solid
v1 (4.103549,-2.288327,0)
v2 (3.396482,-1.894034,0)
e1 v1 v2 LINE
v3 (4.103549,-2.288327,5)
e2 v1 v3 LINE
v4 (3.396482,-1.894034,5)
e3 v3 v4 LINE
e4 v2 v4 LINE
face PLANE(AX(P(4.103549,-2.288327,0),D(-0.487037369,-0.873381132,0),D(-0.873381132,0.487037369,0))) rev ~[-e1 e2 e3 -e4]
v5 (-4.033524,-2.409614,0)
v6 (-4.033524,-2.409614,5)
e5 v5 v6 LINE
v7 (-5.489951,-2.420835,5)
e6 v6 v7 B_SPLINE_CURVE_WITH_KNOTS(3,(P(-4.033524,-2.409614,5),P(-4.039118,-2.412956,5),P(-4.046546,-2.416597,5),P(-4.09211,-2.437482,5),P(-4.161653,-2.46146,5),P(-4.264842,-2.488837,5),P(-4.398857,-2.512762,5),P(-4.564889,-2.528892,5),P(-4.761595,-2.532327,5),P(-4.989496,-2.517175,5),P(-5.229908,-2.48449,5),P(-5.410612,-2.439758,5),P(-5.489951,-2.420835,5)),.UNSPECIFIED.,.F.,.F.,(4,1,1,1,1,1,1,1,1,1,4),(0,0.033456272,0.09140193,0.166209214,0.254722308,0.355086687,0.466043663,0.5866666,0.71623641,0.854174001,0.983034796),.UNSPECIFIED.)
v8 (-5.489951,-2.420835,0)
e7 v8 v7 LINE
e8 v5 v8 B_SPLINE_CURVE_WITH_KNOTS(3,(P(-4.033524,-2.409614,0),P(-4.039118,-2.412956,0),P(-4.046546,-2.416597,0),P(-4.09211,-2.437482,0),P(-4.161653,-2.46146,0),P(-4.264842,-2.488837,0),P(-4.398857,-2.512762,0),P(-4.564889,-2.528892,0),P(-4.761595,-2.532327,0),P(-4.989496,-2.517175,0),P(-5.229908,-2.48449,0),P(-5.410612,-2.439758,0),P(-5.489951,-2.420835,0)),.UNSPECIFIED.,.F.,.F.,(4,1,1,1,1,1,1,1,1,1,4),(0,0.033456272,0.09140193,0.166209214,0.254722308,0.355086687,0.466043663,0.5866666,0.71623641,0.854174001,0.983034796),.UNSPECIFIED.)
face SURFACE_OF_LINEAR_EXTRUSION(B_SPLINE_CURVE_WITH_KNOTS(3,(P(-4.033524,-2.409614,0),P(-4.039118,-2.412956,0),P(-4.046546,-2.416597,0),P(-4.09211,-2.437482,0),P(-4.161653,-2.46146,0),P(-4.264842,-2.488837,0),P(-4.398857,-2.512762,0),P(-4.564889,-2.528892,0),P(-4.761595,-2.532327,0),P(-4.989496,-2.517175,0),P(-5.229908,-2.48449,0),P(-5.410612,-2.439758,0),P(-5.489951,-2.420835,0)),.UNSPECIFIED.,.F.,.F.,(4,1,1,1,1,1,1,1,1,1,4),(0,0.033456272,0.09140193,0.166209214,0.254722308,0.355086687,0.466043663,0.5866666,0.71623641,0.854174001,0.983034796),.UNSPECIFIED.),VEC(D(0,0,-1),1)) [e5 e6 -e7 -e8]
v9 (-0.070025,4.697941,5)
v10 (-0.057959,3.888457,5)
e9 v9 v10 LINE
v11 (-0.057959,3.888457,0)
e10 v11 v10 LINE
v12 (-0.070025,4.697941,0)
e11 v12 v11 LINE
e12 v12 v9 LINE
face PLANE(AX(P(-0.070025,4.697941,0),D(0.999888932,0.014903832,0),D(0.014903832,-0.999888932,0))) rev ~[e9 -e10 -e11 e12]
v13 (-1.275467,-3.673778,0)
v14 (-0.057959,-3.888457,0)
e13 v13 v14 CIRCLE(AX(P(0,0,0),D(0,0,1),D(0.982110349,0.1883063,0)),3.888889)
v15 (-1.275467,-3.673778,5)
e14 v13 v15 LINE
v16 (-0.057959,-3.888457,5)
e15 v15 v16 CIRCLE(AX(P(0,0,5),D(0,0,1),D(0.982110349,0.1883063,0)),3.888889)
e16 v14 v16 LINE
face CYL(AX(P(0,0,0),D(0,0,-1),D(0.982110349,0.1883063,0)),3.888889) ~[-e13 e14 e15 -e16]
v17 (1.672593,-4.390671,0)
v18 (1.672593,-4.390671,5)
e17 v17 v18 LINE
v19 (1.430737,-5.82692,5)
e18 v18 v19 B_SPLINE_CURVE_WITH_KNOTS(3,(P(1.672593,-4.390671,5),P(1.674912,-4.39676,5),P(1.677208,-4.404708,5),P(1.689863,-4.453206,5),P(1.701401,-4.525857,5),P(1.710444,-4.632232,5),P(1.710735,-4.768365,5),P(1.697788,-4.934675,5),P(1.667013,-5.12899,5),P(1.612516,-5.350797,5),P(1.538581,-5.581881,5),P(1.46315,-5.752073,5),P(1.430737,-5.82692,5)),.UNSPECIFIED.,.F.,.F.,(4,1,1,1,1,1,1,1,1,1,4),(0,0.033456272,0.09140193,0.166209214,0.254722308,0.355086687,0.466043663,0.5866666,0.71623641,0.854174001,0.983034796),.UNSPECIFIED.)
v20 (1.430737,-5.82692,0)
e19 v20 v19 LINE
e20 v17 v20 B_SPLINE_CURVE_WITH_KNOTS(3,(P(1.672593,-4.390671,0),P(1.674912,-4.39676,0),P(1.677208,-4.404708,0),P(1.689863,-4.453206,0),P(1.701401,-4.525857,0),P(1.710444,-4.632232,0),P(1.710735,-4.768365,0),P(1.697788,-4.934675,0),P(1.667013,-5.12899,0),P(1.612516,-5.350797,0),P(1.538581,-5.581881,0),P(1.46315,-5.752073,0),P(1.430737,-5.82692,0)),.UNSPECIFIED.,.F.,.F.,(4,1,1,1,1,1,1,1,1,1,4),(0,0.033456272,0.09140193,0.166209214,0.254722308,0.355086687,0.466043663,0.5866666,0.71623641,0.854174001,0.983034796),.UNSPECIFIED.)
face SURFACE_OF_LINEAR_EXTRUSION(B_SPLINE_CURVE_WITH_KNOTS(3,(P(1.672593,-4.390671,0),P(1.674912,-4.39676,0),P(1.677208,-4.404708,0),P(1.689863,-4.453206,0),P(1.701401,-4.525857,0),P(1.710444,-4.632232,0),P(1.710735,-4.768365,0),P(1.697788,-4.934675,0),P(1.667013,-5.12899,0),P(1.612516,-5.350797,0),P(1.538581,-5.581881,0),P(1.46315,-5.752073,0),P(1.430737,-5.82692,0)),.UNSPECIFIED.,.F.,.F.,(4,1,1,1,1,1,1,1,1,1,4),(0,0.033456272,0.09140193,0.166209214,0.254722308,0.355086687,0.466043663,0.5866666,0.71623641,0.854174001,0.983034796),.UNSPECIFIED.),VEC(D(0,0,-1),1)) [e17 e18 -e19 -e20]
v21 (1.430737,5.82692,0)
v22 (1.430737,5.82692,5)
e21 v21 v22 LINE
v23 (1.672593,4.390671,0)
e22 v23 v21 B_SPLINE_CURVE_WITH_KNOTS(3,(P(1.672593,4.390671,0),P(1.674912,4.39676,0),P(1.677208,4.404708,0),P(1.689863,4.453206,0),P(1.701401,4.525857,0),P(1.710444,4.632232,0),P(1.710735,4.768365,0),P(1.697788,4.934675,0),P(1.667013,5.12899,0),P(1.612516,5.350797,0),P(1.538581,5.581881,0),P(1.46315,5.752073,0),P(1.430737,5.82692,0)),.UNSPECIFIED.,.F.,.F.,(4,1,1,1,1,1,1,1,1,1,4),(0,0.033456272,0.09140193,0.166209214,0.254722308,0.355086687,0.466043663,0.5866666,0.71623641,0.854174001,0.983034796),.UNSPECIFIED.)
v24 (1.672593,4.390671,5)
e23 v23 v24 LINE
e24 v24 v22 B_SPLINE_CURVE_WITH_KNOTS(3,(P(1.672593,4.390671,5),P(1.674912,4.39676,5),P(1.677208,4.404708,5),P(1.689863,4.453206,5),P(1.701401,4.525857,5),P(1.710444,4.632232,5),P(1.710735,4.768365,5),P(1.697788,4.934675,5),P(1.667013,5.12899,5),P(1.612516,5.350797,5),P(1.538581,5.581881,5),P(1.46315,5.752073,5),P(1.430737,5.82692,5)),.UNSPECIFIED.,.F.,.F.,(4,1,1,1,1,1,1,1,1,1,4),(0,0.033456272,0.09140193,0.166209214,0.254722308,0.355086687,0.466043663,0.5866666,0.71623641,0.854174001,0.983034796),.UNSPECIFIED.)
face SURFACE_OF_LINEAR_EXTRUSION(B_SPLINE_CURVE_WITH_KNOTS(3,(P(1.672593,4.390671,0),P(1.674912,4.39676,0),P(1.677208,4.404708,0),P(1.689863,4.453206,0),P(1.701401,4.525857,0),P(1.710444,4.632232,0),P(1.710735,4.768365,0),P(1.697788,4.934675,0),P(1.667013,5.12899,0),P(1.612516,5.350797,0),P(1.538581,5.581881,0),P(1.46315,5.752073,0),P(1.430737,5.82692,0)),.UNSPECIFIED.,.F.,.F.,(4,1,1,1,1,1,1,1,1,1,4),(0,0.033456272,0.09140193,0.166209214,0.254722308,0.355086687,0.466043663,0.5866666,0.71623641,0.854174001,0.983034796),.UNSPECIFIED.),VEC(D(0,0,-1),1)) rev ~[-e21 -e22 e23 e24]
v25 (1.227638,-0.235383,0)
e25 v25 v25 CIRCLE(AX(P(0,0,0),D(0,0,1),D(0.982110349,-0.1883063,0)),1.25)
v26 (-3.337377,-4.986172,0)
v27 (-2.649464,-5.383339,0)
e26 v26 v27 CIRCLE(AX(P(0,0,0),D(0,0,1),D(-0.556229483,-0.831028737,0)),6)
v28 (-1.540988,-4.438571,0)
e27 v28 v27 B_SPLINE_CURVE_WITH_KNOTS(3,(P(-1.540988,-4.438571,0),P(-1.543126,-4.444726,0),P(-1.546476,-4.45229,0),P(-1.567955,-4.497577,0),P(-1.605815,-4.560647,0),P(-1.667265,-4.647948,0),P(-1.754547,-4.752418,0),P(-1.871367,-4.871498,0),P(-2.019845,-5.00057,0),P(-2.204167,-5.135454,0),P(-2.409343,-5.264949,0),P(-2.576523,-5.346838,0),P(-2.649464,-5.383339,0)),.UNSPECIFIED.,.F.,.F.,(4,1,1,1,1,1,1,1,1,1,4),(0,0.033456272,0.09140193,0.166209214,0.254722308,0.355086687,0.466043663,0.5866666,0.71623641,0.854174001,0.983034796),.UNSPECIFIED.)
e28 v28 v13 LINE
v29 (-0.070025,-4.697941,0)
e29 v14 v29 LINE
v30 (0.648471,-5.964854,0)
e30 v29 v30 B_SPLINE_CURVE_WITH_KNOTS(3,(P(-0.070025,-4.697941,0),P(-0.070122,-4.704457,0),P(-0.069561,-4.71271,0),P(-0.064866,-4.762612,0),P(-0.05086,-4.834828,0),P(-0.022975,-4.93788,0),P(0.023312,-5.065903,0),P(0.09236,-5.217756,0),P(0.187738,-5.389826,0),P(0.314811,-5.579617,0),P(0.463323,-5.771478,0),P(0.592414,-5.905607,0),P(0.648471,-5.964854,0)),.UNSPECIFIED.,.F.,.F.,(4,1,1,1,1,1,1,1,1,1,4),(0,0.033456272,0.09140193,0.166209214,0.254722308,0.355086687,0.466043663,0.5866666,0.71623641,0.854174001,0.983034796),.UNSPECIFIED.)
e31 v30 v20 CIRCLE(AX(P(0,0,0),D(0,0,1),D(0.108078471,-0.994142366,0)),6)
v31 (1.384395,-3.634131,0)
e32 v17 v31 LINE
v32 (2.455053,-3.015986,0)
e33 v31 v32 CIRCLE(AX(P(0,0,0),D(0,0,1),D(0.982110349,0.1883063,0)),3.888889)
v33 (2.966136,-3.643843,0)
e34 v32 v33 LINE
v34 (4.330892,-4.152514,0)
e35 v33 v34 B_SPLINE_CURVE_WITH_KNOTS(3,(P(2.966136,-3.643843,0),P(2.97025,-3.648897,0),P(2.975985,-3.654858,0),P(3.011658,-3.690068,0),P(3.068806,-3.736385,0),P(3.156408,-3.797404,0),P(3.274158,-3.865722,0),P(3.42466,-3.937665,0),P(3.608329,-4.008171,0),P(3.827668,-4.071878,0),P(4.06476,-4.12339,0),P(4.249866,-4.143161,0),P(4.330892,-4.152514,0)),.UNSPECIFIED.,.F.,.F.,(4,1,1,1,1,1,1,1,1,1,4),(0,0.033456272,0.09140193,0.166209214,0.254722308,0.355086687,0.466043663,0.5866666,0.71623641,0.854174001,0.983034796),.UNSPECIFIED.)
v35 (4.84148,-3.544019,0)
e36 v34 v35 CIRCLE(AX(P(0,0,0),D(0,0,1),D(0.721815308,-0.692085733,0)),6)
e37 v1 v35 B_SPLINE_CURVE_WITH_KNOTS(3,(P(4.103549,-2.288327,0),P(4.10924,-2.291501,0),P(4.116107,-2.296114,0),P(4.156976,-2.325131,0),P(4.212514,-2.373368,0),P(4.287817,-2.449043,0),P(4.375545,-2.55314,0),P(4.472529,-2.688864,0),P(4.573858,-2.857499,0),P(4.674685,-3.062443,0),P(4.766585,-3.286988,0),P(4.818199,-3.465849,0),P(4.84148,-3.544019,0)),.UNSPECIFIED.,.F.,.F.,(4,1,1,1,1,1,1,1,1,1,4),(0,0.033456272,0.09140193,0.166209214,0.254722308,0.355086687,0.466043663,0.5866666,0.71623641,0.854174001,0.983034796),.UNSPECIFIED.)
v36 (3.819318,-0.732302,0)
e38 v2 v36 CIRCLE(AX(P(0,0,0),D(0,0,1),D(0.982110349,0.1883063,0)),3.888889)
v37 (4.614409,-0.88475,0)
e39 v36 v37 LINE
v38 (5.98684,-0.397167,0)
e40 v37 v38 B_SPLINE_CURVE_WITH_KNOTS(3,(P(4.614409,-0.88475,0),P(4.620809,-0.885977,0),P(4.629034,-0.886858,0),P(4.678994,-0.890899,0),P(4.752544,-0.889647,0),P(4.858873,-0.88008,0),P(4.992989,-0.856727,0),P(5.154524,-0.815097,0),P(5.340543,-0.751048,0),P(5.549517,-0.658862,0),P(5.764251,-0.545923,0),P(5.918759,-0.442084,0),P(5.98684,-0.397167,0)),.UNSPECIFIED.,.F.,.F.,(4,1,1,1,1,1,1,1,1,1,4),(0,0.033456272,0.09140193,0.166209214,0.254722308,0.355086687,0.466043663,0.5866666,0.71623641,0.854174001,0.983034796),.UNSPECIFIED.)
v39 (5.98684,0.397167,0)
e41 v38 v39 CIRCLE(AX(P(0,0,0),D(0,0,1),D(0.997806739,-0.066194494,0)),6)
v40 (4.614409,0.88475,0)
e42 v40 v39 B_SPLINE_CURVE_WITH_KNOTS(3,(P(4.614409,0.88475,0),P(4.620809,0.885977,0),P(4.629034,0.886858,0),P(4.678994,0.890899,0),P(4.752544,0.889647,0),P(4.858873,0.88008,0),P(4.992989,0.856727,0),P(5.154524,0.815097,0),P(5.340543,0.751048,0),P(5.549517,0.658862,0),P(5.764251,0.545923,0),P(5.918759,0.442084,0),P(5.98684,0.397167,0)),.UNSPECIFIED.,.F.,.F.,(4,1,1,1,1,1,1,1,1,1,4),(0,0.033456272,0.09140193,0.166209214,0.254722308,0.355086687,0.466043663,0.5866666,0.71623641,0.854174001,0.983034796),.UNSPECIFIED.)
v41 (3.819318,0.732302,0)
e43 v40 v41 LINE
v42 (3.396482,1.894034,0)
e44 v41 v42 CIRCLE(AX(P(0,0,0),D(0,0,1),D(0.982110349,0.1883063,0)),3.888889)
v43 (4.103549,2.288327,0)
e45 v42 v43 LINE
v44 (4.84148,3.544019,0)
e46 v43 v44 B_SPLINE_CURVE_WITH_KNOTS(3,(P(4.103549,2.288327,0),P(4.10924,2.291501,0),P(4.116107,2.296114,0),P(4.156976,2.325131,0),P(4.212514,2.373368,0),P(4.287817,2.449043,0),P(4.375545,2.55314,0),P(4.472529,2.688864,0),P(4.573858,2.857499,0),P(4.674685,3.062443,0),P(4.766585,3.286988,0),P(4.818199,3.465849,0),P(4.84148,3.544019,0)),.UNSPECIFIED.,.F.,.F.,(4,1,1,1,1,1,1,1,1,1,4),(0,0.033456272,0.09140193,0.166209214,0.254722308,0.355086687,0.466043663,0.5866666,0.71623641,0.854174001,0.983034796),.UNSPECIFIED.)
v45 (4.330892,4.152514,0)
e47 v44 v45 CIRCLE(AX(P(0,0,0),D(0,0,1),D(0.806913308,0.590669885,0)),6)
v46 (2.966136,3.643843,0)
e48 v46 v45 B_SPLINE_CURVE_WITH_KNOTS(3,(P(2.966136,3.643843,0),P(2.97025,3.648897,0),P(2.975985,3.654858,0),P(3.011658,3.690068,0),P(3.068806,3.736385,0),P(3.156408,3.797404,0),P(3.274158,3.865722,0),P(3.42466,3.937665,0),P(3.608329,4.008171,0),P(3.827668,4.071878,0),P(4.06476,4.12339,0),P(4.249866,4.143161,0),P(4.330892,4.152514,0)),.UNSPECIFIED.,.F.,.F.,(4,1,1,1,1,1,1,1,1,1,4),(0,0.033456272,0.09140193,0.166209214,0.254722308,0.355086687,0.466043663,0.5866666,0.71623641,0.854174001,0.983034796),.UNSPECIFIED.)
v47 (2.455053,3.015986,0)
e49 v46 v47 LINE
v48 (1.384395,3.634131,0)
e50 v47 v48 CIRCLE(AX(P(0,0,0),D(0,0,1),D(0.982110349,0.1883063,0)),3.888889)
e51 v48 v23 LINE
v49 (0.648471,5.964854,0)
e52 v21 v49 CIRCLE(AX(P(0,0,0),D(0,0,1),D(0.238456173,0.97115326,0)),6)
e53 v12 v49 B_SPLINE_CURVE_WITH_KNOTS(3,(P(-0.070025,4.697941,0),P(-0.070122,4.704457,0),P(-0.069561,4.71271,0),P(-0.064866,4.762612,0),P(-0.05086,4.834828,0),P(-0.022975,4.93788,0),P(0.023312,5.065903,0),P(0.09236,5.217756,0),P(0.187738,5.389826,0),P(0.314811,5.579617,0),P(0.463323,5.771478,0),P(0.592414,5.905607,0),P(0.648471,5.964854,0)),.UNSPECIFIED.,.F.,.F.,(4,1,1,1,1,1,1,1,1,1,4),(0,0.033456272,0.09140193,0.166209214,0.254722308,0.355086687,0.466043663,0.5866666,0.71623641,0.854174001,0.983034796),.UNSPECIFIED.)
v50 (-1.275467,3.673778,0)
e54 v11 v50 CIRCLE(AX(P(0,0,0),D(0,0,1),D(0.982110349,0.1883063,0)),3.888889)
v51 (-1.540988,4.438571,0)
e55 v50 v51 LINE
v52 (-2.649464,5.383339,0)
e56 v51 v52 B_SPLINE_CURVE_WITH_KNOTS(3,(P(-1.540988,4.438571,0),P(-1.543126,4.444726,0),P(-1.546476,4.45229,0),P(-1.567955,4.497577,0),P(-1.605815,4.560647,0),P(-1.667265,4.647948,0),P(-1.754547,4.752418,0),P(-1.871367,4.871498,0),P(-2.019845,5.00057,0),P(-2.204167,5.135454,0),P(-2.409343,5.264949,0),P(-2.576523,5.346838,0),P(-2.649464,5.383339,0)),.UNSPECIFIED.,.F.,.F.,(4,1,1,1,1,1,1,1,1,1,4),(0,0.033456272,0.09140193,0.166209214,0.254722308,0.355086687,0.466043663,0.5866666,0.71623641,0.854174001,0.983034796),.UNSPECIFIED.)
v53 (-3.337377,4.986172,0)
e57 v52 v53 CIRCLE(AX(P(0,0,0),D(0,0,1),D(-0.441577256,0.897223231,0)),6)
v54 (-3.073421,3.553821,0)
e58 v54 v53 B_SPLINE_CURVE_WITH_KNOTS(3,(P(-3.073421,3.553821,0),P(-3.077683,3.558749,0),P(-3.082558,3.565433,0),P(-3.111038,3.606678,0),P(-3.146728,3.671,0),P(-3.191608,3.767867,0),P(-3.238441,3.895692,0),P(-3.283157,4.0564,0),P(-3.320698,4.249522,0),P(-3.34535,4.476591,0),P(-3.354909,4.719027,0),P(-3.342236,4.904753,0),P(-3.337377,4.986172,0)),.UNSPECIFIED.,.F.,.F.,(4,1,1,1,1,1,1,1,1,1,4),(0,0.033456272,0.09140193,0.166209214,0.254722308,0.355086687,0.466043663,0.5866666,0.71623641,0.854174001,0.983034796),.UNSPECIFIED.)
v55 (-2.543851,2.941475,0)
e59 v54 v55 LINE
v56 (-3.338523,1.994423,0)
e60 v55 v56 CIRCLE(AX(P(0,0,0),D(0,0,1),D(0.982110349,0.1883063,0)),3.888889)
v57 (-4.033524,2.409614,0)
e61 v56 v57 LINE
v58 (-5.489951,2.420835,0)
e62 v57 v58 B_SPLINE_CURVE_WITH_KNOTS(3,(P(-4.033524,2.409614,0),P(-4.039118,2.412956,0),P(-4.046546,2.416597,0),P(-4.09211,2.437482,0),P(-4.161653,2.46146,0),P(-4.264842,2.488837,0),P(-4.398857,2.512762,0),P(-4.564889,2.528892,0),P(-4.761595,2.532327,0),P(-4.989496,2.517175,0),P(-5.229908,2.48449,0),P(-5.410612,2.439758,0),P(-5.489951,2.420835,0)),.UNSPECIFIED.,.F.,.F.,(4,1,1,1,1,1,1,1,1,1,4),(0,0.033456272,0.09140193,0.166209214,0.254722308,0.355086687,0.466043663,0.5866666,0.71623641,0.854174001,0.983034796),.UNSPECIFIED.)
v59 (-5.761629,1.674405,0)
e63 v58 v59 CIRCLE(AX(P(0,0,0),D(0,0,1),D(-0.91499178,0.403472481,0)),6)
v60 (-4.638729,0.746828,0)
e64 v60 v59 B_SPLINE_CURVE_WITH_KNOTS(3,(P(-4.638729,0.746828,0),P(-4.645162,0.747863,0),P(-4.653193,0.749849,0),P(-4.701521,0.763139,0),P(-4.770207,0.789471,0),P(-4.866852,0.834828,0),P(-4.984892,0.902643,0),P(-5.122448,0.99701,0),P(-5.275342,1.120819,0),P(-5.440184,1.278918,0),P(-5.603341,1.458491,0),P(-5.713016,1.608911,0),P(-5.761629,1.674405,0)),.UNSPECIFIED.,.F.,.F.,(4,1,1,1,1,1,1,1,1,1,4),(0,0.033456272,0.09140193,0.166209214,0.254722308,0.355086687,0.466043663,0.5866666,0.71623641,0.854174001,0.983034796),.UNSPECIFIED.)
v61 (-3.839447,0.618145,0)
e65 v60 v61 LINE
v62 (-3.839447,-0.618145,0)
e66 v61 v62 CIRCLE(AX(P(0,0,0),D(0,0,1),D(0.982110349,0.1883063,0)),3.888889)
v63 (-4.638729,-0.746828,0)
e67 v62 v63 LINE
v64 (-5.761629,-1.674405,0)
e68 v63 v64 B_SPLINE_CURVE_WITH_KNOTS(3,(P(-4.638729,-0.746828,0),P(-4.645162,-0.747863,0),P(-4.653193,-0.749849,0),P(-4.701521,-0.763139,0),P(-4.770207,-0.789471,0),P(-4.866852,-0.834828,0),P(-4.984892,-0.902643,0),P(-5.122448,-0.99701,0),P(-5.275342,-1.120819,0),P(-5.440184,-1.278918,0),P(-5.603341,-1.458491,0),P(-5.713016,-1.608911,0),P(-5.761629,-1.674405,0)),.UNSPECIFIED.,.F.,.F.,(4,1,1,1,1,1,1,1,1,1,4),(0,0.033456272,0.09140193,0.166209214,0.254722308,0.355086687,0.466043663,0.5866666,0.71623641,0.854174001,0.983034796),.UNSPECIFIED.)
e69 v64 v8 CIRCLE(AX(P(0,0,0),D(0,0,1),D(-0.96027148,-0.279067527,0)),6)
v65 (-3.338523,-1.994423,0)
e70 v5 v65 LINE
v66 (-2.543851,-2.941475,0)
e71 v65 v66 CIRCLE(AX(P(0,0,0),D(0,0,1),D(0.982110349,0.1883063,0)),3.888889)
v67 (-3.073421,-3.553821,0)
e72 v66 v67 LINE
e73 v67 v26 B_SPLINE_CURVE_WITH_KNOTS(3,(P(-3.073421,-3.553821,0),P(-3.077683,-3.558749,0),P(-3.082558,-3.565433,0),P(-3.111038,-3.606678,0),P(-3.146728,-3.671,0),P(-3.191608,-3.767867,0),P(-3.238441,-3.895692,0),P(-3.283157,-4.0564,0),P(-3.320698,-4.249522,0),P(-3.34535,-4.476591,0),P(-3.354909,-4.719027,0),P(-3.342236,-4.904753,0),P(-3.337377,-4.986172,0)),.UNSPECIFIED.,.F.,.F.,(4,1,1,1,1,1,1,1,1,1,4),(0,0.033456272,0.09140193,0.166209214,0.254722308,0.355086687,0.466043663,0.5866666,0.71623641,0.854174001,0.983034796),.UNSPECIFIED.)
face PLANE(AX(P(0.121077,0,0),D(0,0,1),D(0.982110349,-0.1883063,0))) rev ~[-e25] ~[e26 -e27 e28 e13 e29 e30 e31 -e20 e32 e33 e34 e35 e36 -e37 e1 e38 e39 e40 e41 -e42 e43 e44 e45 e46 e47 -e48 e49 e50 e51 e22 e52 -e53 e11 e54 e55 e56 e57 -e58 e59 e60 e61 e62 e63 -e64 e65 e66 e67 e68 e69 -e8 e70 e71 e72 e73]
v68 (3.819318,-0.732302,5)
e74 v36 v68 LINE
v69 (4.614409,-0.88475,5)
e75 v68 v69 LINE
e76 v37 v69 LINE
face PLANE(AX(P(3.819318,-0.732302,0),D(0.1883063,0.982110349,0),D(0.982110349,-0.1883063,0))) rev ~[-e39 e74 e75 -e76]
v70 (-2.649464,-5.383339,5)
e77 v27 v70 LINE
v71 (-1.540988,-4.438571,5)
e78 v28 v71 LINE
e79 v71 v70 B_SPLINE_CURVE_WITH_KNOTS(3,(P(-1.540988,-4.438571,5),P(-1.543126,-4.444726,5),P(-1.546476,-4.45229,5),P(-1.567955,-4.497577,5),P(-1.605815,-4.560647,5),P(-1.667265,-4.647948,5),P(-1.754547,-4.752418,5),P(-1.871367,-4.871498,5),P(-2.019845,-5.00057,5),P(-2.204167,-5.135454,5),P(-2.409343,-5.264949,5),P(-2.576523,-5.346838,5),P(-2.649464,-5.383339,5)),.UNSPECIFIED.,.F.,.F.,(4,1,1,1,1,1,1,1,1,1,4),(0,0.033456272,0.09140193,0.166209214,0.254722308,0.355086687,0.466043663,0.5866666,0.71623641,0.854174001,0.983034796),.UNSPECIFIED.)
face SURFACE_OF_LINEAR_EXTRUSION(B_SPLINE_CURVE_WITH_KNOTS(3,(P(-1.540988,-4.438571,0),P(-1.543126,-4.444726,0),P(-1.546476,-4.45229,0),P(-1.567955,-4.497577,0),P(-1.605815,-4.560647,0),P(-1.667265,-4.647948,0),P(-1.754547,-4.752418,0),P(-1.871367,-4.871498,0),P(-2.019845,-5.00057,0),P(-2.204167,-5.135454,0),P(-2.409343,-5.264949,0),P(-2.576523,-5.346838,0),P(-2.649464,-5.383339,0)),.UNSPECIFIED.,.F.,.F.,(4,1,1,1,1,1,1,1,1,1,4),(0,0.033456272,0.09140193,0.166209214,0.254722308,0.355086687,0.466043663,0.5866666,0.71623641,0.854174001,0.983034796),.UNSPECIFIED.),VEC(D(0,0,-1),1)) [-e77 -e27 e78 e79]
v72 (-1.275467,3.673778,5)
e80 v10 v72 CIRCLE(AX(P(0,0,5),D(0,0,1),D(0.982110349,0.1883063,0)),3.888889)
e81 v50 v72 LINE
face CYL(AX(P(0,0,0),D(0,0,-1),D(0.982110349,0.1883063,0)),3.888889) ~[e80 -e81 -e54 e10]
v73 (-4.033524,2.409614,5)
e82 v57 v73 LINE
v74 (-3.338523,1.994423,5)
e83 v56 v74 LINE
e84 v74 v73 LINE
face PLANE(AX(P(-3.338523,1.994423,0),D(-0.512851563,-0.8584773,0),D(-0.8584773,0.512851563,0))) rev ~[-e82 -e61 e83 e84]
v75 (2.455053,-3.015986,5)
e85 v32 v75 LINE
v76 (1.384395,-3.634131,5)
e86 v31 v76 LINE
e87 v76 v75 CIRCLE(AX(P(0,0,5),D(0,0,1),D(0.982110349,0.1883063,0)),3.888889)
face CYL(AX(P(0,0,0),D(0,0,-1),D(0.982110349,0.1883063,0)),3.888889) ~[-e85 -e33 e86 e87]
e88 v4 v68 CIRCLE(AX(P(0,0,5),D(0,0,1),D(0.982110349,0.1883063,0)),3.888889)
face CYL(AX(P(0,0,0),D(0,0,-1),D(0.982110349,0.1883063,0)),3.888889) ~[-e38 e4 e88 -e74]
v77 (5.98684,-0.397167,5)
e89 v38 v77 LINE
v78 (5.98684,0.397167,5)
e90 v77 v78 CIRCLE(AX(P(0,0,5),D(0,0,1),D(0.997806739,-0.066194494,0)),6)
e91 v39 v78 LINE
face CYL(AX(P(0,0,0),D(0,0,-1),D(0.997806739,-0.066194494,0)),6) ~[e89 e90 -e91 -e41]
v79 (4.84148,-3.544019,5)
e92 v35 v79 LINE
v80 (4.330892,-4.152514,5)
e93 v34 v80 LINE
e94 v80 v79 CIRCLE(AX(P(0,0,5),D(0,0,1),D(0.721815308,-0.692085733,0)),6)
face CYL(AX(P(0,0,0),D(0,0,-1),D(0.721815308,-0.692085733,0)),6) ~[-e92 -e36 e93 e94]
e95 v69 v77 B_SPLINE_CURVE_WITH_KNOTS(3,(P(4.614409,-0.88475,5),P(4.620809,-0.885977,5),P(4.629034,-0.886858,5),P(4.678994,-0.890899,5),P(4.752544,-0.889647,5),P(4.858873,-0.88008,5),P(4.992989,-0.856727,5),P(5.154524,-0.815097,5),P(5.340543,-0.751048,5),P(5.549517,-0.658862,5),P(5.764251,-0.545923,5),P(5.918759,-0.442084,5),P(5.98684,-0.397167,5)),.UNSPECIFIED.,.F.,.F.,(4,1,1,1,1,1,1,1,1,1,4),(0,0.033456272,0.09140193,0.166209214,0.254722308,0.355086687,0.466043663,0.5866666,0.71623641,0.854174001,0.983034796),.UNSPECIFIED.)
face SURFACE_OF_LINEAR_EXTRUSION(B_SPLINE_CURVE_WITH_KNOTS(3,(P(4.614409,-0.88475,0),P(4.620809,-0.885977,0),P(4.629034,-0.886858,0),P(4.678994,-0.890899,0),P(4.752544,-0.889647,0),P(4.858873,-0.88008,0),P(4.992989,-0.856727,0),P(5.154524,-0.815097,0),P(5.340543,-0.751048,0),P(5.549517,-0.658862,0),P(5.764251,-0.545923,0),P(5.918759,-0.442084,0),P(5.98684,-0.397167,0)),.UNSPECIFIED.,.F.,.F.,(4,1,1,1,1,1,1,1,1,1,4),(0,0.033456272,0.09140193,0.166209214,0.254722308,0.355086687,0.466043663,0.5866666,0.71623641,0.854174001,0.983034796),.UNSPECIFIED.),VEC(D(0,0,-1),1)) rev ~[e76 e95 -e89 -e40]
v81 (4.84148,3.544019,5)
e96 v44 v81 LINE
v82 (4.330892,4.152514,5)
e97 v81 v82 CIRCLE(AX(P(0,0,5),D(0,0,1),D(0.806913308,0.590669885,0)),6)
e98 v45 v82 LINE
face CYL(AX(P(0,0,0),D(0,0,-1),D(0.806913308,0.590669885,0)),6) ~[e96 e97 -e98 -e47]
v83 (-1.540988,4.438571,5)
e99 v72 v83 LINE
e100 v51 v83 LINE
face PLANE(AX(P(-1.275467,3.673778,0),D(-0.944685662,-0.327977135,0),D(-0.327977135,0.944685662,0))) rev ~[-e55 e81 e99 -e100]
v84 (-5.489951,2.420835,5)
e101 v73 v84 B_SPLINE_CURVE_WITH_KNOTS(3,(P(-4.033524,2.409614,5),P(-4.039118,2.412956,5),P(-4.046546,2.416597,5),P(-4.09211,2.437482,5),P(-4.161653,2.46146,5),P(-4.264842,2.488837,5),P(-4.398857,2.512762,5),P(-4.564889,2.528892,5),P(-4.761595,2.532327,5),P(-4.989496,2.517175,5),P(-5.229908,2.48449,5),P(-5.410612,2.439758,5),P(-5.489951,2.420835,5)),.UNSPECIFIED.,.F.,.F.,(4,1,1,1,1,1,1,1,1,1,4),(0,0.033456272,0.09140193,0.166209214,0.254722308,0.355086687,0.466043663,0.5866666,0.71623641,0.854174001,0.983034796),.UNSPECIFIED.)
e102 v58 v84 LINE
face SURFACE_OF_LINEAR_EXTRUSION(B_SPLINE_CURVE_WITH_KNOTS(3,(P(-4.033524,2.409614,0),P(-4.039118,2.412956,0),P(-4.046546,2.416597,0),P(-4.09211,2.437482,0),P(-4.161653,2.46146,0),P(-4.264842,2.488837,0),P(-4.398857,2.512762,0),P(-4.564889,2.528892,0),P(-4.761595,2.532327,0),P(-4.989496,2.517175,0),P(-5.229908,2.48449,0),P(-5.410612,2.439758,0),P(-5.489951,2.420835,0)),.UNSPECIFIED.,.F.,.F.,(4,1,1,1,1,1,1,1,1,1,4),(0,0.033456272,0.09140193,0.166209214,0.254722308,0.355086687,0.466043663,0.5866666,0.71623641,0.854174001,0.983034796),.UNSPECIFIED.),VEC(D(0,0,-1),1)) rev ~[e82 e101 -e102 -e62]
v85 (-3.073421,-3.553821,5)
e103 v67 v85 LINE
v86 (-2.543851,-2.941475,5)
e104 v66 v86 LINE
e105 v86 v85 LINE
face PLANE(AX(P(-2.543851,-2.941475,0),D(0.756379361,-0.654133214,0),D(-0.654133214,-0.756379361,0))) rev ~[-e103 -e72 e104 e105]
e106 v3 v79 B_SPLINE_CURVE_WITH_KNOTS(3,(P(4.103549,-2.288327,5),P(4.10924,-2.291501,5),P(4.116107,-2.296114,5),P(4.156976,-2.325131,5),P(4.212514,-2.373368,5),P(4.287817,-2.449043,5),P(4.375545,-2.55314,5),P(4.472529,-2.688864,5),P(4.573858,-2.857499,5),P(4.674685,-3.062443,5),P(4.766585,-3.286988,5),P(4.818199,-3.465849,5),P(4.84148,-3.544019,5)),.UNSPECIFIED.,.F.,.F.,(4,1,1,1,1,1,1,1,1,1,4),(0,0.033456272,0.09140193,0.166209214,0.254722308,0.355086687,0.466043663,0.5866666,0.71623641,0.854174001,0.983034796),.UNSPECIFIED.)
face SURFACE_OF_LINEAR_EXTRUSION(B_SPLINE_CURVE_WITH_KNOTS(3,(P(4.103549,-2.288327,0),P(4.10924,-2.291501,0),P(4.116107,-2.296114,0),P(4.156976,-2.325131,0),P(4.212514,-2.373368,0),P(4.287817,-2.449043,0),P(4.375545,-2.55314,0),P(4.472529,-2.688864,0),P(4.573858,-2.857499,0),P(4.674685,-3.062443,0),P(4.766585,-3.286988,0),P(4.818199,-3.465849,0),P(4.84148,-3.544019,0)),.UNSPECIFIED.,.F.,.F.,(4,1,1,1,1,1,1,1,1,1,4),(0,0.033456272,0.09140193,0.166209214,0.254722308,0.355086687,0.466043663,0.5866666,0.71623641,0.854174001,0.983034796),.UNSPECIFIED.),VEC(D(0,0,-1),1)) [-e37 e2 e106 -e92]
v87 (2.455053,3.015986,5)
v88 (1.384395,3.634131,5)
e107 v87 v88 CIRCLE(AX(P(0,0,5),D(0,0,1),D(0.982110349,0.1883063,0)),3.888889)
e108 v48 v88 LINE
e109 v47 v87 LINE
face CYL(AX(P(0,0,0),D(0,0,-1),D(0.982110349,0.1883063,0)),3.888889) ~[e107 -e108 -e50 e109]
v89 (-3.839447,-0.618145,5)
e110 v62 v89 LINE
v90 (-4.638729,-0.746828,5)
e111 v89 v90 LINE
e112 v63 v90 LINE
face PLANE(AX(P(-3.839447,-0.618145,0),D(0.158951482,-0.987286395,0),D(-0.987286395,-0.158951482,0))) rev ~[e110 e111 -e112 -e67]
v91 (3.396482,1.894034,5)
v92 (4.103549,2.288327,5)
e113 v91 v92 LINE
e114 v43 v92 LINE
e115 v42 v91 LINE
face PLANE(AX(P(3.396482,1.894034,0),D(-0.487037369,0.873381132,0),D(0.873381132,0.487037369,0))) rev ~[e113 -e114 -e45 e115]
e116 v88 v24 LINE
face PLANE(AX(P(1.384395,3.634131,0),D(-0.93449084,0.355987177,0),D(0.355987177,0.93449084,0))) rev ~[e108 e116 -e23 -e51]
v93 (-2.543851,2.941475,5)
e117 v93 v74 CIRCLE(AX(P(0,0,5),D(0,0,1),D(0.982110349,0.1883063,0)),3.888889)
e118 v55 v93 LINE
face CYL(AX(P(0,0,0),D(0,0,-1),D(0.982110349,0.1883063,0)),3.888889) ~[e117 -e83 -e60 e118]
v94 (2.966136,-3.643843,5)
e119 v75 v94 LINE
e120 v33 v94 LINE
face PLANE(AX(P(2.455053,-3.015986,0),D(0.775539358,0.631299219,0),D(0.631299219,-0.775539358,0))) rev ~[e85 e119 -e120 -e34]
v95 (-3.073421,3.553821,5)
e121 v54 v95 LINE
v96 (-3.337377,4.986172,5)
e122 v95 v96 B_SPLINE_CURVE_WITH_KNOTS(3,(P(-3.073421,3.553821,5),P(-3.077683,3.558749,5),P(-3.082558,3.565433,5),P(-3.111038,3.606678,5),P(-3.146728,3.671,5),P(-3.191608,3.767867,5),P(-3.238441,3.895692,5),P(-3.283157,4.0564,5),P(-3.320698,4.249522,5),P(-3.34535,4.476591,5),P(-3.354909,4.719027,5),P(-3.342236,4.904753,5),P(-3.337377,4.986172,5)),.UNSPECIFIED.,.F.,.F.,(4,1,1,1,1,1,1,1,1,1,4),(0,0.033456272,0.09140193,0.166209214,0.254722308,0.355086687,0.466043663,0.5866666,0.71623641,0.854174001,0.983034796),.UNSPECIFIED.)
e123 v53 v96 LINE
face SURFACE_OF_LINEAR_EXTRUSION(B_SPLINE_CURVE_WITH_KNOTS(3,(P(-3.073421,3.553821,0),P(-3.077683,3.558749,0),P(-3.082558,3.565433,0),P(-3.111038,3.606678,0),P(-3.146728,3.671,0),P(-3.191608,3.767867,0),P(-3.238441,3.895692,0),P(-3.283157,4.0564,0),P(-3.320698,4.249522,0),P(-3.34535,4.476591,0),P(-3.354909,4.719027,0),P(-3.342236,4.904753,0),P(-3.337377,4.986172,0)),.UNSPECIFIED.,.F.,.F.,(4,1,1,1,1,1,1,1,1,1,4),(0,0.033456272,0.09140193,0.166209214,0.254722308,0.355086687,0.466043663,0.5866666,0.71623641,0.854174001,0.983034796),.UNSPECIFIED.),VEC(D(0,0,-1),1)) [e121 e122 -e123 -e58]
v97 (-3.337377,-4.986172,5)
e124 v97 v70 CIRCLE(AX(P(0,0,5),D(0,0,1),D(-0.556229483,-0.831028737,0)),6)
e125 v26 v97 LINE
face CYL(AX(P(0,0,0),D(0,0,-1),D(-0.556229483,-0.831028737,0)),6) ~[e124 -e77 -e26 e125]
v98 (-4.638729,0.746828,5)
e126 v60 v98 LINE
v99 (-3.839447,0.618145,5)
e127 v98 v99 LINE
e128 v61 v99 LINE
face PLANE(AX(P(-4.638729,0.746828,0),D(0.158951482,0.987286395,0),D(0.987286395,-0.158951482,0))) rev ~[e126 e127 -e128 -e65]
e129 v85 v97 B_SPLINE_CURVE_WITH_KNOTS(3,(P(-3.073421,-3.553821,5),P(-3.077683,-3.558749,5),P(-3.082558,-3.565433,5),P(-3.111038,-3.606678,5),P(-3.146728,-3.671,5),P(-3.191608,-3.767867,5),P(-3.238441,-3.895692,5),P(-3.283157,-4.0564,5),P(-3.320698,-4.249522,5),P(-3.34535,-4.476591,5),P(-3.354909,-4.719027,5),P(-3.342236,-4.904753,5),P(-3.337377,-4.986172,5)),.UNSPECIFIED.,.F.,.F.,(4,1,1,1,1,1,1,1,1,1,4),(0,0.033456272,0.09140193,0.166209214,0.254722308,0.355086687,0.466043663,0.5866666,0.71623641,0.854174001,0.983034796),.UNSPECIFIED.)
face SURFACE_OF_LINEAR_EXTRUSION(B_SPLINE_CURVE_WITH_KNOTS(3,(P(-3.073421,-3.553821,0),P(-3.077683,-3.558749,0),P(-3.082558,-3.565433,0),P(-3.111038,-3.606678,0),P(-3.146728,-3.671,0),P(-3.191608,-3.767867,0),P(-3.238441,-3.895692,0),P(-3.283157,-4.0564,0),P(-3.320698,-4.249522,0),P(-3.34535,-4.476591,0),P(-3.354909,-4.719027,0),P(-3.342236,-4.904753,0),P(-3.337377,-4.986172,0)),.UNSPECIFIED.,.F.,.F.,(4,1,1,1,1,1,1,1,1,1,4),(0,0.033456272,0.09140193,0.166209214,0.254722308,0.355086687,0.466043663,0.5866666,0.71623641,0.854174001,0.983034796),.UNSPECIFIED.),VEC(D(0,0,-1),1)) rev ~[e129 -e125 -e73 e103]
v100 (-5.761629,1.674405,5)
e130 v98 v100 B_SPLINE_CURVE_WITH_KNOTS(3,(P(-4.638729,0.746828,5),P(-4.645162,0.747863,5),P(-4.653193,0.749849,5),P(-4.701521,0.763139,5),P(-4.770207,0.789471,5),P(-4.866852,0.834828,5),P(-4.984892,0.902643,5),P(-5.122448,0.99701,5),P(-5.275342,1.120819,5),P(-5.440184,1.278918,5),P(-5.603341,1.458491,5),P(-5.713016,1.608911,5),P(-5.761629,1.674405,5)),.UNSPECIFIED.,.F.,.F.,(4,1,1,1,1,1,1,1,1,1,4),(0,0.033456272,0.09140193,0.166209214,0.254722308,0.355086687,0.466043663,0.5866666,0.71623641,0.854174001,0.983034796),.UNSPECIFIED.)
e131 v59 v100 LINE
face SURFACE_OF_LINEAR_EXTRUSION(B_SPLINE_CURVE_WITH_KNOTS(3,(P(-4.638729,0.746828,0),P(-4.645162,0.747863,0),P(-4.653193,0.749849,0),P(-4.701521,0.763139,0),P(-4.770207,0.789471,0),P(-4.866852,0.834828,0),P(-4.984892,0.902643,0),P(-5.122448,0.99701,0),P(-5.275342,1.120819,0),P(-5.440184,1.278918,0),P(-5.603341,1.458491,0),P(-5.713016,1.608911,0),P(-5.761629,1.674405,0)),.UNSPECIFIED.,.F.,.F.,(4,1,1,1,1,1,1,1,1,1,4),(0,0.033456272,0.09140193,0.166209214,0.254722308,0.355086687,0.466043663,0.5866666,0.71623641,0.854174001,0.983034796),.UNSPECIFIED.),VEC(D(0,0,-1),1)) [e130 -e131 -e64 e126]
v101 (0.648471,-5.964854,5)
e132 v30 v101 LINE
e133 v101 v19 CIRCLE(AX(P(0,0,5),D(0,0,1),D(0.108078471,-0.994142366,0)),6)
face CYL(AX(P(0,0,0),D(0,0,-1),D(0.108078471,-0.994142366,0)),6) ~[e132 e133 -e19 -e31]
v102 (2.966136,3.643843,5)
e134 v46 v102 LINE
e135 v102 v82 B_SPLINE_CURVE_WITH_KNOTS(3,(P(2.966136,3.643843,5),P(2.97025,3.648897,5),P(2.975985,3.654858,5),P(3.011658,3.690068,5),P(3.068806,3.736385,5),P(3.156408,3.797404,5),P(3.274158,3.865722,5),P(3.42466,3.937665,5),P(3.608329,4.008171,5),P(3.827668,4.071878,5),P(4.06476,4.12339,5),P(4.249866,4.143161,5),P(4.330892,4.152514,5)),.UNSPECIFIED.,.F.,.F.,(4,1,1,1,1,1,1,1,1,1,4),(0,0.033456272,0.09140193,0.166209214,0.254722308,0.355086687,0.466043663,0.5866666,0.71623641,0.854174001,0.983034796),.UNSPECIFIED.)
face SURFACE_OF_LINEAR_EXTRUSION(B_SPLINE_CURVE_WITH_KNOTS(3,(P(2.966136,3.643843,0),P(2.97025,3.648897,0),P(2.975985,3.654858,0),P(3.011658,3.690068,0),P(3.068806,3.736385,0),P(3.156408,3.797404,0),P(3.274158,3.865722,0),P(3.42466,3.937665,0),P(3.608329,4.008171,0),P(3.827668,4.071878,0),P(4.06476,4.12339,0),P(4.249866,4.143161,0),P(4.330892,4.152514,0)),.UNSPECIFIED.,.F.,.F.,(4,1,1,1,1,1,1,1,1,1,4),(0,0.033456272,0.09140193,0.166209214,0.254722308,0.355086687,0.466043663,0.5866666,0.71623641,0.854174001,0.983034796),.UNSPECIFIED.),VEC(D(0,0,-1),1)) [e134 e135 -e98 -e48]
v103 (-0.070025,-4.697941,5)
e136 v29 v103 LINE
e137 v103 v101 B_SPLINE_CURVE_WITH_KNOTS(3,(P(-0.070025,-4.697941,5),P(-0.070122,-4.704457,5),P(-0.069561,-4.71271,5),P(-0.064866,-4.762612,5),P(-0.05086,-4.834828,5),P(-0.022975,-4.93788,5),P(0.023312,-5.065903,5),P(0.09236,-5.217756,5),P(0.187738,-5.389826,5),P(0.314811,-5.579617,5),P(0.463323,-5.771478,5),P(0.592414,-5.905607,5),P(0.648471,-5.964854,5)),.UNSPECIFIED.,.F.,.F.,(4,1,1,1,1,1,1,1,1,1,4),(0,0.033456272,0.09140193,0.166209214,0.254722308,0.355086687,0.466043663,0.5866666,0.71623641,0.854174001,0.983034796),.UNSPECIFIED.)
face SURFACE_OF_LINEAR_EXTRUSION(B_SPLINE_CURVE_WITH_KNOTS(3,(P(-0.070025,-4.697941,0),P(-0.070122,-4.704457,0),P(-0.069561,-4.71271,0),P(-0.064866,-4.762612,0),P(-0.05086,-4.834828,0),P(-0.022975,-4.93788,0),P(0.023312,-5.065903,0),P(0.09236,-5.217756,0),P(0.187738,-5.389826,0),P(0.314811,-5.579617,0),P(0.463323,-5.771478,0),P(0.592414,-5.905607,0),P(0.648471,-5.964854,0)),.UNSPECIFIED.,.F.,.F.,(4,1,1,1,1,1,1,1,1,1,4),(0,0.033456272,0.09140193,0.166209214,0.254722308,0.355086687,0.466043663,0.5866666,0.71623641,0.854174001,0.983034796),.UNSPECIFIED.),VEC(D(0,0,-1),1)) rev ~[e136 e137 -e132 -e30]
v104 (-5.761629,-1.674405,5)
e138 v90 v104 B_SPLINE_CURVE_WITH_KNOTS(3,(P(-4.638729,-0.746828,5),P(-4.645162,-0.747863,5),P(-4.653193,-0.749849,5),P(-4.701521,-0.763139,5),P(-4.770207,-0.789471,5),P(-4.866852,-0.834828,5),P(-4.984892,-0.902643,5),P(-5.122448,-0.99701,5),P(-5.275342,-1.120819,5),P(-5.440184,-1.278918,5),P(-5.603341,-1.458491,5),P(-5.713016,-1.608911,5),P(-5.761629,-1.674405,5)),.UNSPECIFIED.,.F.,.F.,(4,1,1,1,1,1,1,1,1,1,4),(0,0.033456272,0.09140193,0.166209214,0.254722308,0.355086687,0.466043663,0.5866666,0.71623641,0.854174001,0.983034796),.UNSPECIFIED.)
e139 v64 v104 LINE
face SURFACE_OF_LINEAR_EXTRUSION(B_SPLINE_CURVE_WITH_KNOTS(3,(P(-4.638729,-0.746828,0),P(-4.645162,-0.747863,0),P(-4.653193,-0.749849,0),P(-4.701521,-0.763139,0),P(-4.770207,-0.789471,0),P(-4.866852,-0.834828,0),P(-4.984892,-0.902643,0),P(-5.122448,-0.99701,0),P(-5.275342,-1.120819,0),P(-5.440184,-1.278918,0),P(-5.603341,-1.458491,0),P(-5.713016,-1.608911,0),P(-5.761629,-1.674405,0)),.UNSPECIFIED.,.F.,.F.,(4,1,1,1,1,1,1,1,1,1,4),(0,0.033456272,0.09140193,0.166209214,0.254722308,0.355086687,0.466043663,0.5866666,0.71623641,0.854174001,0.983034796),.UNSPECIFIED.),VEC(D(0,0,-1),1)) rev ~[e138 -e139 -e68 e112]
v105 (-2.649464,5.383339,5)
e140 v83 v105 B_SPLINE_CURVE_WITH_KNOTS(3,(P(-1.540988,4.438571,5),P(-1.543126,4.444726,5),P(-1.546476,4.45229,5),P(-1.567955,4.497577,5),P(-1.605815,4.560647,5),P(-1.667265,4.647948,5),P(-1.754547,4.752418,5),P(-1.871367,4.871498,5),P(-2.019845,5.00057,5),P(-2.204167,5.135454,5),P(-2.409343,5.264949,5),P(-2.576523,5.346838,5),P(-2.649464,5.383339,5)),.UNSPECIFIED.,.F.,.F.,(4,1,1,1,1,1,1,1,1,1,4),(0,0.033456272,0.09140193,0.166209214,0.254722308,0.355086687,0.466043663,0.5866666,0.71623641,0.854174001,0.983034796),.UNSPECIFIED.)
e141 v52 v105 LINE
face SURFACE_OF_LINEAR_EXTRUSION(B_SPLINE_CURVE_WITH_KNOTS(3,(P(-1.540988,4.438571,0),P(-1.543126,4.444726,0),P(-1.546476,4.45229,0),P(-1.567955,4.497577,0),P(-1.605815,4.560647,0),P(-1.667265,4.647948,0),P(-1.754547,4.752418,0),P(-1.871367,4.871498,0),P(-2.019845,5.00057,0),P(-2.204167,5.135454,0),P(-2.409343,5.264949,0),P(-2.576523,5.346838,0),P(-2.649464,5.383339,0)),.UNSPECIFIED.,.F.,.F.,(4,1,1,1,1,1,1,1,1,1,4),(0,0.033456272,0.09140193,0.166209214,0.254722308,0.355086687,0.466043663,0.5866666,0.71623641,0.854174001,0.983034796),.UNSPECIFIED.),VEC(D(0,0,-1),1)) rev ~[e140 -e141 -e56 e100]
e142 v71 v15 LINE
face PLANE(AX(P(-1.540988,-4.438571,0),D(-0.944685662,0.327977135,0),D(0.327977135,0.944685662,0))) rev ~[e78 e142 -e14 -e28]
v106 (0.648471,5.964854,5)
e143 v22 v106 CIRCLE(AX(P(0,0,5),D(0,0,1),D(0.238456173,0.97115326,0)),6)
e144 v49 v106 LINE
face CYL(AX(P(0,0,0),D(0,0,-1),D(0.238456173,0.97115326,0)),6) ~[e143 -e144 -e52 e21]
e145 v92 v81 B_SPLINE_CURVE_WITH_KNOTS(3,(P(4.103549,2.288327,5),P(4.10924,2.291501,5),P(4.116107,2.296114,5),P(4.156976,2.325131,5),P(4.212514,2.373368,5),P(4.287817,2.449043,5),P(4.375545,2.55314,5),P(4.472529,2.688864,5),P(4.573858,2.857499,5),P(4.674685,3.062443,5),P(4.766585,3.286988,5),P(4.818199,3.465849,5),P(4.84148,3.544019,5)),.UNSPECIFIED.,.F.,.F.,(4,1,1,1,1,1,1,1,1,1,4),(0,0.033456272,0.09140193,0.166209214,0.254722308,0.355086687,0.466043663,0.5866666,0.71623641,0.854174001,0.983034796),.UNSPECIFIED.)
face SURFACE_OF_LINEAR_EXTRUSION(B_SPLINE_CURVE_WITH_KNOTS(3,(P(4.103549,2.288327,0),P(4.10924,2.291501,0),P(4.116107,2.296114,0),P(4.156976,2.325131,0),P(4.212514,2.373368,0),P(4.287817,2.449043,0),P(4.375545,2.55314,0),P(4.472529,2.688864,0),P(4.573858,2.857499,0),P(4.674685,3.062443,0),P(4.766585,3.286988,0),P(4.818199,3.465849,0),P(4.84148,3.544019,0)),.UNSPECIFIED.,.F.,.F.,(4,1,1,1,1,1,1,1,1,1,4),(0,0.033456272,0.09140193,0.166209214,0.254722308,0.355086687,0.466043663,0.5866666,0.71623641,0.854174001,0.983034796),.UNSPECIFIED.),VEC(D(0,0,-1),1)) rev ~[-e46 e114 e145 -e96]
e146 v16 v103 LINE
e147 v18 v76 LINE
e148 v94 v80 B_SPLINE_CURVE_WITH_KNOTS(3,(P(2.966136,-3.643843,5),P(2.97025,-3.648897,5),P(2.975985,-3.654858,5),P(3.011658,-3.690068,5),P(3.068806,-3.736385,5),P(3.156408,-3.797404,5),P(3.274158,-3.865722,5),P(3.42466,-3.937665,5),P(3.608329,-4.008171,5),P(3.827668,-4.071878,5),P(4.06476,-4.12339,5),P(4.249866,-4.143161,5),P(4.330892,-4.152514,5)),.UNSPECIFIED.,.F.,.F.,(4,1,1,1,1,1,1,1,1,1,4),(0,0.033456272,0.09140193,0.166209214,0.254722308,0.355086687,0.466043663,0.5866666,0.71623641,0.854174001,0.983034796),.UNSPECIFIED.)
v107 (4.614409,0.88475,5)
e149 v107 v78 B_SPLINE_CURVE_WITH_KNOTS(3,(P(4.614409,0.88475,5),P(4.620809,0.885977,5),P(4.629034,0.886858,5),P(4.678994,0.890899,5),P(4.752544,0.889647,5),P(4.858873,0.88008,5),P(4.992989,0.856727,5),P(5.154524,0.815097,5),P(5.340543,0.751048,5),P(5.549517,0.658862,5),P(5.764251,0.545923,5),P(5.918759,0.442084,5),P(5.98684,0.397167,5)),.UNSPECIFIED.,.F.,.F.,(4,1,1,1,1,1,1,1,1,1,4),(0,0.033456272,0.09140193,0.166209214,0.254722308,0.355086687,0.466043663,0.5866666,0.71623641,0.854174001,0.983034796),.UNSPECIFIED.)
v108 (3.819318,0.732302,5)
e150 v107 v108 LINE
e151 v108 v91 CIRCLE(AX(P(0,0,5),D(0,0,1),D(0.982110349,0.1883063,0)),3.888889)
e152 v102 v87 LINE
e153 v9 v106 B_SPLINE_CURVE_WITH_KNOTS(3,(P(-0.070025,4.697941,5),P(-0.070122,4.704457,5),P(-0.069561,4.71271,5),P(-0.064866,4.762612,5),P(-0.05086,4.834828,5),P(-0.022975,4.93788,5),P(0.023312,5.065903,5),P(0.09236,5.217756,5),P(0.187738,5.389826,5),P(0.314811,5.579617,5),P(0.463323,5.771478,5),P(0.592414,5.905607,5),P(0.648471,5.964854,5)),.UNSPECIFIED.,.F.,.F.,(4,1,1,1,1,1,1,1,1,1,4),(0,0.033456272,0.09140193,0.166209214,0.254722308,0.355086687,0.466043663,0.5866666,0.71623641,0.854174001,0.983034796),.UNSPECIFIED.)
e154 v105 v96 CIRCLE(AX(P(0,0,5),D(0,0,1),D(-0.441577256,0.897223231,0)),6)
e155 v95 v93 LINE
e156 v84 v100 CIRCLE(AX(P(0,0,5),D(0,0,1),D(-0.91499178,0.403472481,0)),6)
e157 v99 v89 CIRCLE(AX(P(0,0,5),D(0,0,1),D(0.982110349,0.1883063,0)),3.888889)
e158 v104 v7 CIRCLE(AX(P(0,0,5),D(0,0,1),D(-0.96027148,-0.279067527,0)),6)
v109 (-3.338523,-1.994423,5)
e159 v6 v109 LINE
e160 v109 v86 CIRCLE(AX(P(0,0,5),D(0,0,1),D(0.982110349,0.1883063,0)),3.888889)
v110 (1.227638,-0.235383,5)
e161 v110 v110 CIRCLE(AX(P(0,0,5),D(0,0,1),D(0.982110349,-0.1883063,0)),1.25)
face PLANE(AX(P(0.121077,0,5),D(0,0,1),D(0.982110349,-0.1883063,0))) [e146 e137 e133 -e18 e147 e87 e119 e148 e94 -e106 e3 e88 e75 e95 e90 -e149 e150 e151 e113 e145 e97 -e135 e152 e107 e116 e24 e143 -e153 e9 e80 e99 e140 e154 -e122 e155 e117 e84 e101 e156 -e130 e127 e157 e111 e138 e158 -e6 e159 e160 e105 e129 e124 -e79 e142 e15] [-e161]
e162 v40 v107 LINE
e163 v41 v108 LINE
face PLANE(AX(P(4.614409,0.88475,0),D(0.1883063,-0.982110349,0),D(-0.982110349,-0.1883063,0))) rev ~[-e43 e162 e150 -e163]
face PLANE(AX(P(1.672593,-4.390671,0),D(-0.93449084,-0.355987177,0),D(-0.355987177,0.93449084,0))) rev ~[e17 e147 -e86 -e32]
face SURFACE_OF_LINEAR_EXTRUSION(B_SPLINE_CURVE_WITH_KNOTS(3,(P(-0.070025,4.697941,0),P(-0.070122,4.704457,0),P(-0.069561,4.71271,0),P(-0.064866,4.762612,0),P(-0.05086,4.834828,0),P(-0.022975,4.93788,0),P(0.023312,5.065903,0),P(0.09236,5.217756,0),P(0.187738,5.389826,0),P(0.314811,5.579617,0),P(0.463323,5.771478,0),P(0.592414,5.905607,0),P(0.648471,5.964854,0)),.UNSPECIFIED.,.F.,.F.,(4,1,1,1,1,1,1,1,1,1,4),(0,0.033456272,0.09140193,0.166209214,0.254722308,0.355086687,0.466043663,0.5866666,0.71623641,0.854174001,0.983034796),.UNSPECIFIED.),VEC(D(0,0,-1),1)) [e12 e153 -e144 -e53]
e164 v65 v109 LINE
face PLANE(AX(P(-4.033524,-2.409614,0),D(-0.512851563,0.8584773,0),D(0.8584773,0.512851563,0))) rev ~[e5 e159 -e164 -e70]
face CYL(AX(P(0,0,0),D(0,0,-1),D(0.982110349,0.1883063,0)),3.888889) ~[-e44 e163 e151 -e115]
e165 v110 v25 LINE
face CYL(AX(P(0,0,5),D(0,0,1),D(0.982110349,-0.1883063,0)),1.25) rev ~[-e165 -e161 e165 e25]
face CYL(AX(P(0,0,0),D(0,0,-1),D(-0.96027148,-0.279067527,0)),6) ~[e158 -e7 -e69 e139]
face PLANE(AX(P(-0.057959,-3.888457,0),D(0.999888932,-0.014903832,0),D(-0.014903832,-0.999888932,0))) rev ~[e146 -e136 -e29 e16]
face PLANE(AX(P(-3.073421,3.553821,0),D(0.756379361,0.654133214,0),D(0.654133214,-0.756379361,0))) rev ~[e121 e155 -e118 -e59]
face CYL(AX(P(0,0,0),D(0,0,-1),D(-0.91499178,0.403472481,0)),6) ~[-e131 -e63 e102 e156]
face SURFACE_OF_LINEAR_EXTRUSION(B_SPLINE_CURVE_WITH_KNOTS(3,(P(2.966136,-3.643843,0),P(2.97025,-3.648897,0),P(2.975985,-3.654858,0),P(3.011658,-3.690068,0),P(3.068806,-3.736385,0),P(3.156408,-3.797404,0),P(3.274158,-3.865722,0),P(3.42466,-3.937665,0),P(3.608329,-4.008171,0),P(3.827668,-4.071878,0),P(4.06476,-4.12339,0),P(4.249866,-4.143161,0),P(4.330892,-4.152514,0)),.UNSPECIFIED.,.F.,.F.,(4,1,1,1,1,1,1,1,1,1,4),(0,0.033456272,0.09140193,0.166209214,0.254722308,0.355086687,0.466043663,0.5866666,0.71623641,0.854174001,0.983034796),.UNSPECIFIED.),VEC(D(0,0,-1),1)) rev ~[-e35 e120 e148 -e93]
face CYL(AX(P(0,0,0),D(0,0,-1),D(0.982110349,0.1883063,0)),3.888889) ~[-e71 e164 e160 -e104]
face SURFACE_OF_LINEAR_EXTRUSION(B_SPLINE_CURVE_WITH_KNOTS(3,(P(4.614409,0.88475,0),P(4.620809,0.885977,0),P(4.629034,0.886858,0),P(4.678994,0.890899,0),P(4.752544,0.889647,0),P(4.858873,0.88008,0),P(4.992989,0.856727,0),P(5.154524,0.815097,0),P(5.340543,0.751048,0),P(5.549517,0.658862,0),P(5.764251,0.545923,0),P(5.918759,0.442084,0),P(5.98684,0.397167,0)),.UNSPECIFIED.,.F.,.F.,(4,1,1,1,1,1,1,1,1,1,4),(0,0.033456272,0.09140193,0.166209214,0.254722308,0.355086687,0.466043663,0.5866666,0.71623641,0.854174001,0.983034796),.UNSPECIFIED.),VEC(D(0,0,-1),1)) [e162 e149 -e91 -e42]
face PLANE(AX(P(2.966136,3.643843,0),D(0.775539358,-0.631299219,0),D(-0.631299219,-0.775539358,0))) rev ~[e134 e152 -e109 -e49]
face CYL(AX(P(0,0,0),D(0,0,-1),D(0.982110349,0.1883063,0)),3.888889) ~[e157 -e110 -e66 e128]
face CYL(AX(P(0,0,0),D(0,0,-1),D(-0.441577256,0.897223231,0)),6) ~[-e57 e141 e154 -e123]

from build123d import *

# Parameters (mm, degrees)
F2_DEPTH = 5
F3_COUNT = 9
F4_R     = 1.25
F5_DEPTH = 5
F6_ANGLE = -10.85395829


with BuildPart() as f2:
    # F0 (on Top) → F2 (new body)
    with BuildSketch(Plane.XY):
        with BuildLine():
            ThreePointArc((3.6130946236, 1.4384032925), (-3.8193180234, -0.7323022786), (3.888888889, 0))
            ThreePointArc((3.888888889, 0), (3.8193180234, 0.7323022786), (3.6130946236, 1.4384032925))
        make_face()
        with BuildLine():
            ThreePointArc((3.6130946236, 1.4384032925), (3.8193180234, 0.7323022786), (3.888888889, 0))
            Line((3.888888889, 0), (4.698463104, 0))
            add(Edge.make_bspline(
                [(4.698463104, 0), (4.7049792483, 0), (4.7132233908, 0.0006842948), (4.763050157, 0.0061225393), (4.8350485603, 0.0212028992), (4.9376742279, 0.050620519), (5.0649928014, 0.098810981), (5.2157995796, 0.170113939), (5.3864295271, 0.2680459384), (5.5743056682, 0.3979334197), (5.7639316145, 0.549288566), (5.8961218075, 0.6803639178), (5.95452699, 0.7372979895)],
                knots=[0, 0, 0, 0, 0.0334562722, 0.0914019297, 0.1662092137, 0.2547223082, 0.3550866872, 0.4660436628, 0.5866665998, 0.7162364101, 0.8541740006, 0.983034796, 0.983034796, 0.983034796, 0.983034796], degree=3))
            ThreePointArc((5.95452699, 0.7372979895), (5.8926620931, 1.1298378012), (5.8049489079, 1.5174215552))
            add(Edge.make_bspline(
                [(4.3652550291, 1.7378446624), (4.3713090581, 1.7402548222), (4.3792216418, 1.7426683598), (4.4275262385, 1.7560454694), (4.4999964714, 1.7686650053), (4.6062249239, 1.7792923221), (4.7423387055, 1.7816114308), (4.9088236804, 1.7711448505), (5.1035754149, 1.7432698185), (5.3261698064, 1.6920844784), (5.5583302651, 1.6216011379), (5.7296272375, 1.5487153218), (5.8049489079, 1.5174215552)],
                knots=[0, 0, 0, 0, 0.0334562722, 0.0914019297, 0.1662092137, 0.2547223082, 0.3550866872, 0.4660436628, 0.5866665998, 0.7162364101, 0.8541740006, 0.983034796, 0.983034796, 0.983034796, 0.983034796], degree=3))
            Line((4.3652550291, 1.7378446624), (3.6130946236, 1.4384032925))
        make_face()
    extrude(amount=F2_DEPTH)

    # F3: F2 ×9 about axis
    f3_axis = Axis((0, 0, 10.5789164081), (0, 0, 1))


with BuildPart() as f2_1:
    add(f2.part)
    for i in range(1, F3_COUNT):
        add(f2.part.rotate(f3_axis, i * 360 / F3_COUNT))

    # F4 (on face) → F5 (cut, through all)
    with BuildSketch(Plane.XY.offset(5)):
        Circle(F4_R)
    extrude(amount=-F5_DEPTH, mode=Mode.SUBTRACT)


with BuildPart() as f2_2:
    # F6: moved
    add(f2_1.part.rotate(Axis((0, 0, 10.5789164081), (0, 0, 1)), F6_ANGLE))


solid = f2_2.part
